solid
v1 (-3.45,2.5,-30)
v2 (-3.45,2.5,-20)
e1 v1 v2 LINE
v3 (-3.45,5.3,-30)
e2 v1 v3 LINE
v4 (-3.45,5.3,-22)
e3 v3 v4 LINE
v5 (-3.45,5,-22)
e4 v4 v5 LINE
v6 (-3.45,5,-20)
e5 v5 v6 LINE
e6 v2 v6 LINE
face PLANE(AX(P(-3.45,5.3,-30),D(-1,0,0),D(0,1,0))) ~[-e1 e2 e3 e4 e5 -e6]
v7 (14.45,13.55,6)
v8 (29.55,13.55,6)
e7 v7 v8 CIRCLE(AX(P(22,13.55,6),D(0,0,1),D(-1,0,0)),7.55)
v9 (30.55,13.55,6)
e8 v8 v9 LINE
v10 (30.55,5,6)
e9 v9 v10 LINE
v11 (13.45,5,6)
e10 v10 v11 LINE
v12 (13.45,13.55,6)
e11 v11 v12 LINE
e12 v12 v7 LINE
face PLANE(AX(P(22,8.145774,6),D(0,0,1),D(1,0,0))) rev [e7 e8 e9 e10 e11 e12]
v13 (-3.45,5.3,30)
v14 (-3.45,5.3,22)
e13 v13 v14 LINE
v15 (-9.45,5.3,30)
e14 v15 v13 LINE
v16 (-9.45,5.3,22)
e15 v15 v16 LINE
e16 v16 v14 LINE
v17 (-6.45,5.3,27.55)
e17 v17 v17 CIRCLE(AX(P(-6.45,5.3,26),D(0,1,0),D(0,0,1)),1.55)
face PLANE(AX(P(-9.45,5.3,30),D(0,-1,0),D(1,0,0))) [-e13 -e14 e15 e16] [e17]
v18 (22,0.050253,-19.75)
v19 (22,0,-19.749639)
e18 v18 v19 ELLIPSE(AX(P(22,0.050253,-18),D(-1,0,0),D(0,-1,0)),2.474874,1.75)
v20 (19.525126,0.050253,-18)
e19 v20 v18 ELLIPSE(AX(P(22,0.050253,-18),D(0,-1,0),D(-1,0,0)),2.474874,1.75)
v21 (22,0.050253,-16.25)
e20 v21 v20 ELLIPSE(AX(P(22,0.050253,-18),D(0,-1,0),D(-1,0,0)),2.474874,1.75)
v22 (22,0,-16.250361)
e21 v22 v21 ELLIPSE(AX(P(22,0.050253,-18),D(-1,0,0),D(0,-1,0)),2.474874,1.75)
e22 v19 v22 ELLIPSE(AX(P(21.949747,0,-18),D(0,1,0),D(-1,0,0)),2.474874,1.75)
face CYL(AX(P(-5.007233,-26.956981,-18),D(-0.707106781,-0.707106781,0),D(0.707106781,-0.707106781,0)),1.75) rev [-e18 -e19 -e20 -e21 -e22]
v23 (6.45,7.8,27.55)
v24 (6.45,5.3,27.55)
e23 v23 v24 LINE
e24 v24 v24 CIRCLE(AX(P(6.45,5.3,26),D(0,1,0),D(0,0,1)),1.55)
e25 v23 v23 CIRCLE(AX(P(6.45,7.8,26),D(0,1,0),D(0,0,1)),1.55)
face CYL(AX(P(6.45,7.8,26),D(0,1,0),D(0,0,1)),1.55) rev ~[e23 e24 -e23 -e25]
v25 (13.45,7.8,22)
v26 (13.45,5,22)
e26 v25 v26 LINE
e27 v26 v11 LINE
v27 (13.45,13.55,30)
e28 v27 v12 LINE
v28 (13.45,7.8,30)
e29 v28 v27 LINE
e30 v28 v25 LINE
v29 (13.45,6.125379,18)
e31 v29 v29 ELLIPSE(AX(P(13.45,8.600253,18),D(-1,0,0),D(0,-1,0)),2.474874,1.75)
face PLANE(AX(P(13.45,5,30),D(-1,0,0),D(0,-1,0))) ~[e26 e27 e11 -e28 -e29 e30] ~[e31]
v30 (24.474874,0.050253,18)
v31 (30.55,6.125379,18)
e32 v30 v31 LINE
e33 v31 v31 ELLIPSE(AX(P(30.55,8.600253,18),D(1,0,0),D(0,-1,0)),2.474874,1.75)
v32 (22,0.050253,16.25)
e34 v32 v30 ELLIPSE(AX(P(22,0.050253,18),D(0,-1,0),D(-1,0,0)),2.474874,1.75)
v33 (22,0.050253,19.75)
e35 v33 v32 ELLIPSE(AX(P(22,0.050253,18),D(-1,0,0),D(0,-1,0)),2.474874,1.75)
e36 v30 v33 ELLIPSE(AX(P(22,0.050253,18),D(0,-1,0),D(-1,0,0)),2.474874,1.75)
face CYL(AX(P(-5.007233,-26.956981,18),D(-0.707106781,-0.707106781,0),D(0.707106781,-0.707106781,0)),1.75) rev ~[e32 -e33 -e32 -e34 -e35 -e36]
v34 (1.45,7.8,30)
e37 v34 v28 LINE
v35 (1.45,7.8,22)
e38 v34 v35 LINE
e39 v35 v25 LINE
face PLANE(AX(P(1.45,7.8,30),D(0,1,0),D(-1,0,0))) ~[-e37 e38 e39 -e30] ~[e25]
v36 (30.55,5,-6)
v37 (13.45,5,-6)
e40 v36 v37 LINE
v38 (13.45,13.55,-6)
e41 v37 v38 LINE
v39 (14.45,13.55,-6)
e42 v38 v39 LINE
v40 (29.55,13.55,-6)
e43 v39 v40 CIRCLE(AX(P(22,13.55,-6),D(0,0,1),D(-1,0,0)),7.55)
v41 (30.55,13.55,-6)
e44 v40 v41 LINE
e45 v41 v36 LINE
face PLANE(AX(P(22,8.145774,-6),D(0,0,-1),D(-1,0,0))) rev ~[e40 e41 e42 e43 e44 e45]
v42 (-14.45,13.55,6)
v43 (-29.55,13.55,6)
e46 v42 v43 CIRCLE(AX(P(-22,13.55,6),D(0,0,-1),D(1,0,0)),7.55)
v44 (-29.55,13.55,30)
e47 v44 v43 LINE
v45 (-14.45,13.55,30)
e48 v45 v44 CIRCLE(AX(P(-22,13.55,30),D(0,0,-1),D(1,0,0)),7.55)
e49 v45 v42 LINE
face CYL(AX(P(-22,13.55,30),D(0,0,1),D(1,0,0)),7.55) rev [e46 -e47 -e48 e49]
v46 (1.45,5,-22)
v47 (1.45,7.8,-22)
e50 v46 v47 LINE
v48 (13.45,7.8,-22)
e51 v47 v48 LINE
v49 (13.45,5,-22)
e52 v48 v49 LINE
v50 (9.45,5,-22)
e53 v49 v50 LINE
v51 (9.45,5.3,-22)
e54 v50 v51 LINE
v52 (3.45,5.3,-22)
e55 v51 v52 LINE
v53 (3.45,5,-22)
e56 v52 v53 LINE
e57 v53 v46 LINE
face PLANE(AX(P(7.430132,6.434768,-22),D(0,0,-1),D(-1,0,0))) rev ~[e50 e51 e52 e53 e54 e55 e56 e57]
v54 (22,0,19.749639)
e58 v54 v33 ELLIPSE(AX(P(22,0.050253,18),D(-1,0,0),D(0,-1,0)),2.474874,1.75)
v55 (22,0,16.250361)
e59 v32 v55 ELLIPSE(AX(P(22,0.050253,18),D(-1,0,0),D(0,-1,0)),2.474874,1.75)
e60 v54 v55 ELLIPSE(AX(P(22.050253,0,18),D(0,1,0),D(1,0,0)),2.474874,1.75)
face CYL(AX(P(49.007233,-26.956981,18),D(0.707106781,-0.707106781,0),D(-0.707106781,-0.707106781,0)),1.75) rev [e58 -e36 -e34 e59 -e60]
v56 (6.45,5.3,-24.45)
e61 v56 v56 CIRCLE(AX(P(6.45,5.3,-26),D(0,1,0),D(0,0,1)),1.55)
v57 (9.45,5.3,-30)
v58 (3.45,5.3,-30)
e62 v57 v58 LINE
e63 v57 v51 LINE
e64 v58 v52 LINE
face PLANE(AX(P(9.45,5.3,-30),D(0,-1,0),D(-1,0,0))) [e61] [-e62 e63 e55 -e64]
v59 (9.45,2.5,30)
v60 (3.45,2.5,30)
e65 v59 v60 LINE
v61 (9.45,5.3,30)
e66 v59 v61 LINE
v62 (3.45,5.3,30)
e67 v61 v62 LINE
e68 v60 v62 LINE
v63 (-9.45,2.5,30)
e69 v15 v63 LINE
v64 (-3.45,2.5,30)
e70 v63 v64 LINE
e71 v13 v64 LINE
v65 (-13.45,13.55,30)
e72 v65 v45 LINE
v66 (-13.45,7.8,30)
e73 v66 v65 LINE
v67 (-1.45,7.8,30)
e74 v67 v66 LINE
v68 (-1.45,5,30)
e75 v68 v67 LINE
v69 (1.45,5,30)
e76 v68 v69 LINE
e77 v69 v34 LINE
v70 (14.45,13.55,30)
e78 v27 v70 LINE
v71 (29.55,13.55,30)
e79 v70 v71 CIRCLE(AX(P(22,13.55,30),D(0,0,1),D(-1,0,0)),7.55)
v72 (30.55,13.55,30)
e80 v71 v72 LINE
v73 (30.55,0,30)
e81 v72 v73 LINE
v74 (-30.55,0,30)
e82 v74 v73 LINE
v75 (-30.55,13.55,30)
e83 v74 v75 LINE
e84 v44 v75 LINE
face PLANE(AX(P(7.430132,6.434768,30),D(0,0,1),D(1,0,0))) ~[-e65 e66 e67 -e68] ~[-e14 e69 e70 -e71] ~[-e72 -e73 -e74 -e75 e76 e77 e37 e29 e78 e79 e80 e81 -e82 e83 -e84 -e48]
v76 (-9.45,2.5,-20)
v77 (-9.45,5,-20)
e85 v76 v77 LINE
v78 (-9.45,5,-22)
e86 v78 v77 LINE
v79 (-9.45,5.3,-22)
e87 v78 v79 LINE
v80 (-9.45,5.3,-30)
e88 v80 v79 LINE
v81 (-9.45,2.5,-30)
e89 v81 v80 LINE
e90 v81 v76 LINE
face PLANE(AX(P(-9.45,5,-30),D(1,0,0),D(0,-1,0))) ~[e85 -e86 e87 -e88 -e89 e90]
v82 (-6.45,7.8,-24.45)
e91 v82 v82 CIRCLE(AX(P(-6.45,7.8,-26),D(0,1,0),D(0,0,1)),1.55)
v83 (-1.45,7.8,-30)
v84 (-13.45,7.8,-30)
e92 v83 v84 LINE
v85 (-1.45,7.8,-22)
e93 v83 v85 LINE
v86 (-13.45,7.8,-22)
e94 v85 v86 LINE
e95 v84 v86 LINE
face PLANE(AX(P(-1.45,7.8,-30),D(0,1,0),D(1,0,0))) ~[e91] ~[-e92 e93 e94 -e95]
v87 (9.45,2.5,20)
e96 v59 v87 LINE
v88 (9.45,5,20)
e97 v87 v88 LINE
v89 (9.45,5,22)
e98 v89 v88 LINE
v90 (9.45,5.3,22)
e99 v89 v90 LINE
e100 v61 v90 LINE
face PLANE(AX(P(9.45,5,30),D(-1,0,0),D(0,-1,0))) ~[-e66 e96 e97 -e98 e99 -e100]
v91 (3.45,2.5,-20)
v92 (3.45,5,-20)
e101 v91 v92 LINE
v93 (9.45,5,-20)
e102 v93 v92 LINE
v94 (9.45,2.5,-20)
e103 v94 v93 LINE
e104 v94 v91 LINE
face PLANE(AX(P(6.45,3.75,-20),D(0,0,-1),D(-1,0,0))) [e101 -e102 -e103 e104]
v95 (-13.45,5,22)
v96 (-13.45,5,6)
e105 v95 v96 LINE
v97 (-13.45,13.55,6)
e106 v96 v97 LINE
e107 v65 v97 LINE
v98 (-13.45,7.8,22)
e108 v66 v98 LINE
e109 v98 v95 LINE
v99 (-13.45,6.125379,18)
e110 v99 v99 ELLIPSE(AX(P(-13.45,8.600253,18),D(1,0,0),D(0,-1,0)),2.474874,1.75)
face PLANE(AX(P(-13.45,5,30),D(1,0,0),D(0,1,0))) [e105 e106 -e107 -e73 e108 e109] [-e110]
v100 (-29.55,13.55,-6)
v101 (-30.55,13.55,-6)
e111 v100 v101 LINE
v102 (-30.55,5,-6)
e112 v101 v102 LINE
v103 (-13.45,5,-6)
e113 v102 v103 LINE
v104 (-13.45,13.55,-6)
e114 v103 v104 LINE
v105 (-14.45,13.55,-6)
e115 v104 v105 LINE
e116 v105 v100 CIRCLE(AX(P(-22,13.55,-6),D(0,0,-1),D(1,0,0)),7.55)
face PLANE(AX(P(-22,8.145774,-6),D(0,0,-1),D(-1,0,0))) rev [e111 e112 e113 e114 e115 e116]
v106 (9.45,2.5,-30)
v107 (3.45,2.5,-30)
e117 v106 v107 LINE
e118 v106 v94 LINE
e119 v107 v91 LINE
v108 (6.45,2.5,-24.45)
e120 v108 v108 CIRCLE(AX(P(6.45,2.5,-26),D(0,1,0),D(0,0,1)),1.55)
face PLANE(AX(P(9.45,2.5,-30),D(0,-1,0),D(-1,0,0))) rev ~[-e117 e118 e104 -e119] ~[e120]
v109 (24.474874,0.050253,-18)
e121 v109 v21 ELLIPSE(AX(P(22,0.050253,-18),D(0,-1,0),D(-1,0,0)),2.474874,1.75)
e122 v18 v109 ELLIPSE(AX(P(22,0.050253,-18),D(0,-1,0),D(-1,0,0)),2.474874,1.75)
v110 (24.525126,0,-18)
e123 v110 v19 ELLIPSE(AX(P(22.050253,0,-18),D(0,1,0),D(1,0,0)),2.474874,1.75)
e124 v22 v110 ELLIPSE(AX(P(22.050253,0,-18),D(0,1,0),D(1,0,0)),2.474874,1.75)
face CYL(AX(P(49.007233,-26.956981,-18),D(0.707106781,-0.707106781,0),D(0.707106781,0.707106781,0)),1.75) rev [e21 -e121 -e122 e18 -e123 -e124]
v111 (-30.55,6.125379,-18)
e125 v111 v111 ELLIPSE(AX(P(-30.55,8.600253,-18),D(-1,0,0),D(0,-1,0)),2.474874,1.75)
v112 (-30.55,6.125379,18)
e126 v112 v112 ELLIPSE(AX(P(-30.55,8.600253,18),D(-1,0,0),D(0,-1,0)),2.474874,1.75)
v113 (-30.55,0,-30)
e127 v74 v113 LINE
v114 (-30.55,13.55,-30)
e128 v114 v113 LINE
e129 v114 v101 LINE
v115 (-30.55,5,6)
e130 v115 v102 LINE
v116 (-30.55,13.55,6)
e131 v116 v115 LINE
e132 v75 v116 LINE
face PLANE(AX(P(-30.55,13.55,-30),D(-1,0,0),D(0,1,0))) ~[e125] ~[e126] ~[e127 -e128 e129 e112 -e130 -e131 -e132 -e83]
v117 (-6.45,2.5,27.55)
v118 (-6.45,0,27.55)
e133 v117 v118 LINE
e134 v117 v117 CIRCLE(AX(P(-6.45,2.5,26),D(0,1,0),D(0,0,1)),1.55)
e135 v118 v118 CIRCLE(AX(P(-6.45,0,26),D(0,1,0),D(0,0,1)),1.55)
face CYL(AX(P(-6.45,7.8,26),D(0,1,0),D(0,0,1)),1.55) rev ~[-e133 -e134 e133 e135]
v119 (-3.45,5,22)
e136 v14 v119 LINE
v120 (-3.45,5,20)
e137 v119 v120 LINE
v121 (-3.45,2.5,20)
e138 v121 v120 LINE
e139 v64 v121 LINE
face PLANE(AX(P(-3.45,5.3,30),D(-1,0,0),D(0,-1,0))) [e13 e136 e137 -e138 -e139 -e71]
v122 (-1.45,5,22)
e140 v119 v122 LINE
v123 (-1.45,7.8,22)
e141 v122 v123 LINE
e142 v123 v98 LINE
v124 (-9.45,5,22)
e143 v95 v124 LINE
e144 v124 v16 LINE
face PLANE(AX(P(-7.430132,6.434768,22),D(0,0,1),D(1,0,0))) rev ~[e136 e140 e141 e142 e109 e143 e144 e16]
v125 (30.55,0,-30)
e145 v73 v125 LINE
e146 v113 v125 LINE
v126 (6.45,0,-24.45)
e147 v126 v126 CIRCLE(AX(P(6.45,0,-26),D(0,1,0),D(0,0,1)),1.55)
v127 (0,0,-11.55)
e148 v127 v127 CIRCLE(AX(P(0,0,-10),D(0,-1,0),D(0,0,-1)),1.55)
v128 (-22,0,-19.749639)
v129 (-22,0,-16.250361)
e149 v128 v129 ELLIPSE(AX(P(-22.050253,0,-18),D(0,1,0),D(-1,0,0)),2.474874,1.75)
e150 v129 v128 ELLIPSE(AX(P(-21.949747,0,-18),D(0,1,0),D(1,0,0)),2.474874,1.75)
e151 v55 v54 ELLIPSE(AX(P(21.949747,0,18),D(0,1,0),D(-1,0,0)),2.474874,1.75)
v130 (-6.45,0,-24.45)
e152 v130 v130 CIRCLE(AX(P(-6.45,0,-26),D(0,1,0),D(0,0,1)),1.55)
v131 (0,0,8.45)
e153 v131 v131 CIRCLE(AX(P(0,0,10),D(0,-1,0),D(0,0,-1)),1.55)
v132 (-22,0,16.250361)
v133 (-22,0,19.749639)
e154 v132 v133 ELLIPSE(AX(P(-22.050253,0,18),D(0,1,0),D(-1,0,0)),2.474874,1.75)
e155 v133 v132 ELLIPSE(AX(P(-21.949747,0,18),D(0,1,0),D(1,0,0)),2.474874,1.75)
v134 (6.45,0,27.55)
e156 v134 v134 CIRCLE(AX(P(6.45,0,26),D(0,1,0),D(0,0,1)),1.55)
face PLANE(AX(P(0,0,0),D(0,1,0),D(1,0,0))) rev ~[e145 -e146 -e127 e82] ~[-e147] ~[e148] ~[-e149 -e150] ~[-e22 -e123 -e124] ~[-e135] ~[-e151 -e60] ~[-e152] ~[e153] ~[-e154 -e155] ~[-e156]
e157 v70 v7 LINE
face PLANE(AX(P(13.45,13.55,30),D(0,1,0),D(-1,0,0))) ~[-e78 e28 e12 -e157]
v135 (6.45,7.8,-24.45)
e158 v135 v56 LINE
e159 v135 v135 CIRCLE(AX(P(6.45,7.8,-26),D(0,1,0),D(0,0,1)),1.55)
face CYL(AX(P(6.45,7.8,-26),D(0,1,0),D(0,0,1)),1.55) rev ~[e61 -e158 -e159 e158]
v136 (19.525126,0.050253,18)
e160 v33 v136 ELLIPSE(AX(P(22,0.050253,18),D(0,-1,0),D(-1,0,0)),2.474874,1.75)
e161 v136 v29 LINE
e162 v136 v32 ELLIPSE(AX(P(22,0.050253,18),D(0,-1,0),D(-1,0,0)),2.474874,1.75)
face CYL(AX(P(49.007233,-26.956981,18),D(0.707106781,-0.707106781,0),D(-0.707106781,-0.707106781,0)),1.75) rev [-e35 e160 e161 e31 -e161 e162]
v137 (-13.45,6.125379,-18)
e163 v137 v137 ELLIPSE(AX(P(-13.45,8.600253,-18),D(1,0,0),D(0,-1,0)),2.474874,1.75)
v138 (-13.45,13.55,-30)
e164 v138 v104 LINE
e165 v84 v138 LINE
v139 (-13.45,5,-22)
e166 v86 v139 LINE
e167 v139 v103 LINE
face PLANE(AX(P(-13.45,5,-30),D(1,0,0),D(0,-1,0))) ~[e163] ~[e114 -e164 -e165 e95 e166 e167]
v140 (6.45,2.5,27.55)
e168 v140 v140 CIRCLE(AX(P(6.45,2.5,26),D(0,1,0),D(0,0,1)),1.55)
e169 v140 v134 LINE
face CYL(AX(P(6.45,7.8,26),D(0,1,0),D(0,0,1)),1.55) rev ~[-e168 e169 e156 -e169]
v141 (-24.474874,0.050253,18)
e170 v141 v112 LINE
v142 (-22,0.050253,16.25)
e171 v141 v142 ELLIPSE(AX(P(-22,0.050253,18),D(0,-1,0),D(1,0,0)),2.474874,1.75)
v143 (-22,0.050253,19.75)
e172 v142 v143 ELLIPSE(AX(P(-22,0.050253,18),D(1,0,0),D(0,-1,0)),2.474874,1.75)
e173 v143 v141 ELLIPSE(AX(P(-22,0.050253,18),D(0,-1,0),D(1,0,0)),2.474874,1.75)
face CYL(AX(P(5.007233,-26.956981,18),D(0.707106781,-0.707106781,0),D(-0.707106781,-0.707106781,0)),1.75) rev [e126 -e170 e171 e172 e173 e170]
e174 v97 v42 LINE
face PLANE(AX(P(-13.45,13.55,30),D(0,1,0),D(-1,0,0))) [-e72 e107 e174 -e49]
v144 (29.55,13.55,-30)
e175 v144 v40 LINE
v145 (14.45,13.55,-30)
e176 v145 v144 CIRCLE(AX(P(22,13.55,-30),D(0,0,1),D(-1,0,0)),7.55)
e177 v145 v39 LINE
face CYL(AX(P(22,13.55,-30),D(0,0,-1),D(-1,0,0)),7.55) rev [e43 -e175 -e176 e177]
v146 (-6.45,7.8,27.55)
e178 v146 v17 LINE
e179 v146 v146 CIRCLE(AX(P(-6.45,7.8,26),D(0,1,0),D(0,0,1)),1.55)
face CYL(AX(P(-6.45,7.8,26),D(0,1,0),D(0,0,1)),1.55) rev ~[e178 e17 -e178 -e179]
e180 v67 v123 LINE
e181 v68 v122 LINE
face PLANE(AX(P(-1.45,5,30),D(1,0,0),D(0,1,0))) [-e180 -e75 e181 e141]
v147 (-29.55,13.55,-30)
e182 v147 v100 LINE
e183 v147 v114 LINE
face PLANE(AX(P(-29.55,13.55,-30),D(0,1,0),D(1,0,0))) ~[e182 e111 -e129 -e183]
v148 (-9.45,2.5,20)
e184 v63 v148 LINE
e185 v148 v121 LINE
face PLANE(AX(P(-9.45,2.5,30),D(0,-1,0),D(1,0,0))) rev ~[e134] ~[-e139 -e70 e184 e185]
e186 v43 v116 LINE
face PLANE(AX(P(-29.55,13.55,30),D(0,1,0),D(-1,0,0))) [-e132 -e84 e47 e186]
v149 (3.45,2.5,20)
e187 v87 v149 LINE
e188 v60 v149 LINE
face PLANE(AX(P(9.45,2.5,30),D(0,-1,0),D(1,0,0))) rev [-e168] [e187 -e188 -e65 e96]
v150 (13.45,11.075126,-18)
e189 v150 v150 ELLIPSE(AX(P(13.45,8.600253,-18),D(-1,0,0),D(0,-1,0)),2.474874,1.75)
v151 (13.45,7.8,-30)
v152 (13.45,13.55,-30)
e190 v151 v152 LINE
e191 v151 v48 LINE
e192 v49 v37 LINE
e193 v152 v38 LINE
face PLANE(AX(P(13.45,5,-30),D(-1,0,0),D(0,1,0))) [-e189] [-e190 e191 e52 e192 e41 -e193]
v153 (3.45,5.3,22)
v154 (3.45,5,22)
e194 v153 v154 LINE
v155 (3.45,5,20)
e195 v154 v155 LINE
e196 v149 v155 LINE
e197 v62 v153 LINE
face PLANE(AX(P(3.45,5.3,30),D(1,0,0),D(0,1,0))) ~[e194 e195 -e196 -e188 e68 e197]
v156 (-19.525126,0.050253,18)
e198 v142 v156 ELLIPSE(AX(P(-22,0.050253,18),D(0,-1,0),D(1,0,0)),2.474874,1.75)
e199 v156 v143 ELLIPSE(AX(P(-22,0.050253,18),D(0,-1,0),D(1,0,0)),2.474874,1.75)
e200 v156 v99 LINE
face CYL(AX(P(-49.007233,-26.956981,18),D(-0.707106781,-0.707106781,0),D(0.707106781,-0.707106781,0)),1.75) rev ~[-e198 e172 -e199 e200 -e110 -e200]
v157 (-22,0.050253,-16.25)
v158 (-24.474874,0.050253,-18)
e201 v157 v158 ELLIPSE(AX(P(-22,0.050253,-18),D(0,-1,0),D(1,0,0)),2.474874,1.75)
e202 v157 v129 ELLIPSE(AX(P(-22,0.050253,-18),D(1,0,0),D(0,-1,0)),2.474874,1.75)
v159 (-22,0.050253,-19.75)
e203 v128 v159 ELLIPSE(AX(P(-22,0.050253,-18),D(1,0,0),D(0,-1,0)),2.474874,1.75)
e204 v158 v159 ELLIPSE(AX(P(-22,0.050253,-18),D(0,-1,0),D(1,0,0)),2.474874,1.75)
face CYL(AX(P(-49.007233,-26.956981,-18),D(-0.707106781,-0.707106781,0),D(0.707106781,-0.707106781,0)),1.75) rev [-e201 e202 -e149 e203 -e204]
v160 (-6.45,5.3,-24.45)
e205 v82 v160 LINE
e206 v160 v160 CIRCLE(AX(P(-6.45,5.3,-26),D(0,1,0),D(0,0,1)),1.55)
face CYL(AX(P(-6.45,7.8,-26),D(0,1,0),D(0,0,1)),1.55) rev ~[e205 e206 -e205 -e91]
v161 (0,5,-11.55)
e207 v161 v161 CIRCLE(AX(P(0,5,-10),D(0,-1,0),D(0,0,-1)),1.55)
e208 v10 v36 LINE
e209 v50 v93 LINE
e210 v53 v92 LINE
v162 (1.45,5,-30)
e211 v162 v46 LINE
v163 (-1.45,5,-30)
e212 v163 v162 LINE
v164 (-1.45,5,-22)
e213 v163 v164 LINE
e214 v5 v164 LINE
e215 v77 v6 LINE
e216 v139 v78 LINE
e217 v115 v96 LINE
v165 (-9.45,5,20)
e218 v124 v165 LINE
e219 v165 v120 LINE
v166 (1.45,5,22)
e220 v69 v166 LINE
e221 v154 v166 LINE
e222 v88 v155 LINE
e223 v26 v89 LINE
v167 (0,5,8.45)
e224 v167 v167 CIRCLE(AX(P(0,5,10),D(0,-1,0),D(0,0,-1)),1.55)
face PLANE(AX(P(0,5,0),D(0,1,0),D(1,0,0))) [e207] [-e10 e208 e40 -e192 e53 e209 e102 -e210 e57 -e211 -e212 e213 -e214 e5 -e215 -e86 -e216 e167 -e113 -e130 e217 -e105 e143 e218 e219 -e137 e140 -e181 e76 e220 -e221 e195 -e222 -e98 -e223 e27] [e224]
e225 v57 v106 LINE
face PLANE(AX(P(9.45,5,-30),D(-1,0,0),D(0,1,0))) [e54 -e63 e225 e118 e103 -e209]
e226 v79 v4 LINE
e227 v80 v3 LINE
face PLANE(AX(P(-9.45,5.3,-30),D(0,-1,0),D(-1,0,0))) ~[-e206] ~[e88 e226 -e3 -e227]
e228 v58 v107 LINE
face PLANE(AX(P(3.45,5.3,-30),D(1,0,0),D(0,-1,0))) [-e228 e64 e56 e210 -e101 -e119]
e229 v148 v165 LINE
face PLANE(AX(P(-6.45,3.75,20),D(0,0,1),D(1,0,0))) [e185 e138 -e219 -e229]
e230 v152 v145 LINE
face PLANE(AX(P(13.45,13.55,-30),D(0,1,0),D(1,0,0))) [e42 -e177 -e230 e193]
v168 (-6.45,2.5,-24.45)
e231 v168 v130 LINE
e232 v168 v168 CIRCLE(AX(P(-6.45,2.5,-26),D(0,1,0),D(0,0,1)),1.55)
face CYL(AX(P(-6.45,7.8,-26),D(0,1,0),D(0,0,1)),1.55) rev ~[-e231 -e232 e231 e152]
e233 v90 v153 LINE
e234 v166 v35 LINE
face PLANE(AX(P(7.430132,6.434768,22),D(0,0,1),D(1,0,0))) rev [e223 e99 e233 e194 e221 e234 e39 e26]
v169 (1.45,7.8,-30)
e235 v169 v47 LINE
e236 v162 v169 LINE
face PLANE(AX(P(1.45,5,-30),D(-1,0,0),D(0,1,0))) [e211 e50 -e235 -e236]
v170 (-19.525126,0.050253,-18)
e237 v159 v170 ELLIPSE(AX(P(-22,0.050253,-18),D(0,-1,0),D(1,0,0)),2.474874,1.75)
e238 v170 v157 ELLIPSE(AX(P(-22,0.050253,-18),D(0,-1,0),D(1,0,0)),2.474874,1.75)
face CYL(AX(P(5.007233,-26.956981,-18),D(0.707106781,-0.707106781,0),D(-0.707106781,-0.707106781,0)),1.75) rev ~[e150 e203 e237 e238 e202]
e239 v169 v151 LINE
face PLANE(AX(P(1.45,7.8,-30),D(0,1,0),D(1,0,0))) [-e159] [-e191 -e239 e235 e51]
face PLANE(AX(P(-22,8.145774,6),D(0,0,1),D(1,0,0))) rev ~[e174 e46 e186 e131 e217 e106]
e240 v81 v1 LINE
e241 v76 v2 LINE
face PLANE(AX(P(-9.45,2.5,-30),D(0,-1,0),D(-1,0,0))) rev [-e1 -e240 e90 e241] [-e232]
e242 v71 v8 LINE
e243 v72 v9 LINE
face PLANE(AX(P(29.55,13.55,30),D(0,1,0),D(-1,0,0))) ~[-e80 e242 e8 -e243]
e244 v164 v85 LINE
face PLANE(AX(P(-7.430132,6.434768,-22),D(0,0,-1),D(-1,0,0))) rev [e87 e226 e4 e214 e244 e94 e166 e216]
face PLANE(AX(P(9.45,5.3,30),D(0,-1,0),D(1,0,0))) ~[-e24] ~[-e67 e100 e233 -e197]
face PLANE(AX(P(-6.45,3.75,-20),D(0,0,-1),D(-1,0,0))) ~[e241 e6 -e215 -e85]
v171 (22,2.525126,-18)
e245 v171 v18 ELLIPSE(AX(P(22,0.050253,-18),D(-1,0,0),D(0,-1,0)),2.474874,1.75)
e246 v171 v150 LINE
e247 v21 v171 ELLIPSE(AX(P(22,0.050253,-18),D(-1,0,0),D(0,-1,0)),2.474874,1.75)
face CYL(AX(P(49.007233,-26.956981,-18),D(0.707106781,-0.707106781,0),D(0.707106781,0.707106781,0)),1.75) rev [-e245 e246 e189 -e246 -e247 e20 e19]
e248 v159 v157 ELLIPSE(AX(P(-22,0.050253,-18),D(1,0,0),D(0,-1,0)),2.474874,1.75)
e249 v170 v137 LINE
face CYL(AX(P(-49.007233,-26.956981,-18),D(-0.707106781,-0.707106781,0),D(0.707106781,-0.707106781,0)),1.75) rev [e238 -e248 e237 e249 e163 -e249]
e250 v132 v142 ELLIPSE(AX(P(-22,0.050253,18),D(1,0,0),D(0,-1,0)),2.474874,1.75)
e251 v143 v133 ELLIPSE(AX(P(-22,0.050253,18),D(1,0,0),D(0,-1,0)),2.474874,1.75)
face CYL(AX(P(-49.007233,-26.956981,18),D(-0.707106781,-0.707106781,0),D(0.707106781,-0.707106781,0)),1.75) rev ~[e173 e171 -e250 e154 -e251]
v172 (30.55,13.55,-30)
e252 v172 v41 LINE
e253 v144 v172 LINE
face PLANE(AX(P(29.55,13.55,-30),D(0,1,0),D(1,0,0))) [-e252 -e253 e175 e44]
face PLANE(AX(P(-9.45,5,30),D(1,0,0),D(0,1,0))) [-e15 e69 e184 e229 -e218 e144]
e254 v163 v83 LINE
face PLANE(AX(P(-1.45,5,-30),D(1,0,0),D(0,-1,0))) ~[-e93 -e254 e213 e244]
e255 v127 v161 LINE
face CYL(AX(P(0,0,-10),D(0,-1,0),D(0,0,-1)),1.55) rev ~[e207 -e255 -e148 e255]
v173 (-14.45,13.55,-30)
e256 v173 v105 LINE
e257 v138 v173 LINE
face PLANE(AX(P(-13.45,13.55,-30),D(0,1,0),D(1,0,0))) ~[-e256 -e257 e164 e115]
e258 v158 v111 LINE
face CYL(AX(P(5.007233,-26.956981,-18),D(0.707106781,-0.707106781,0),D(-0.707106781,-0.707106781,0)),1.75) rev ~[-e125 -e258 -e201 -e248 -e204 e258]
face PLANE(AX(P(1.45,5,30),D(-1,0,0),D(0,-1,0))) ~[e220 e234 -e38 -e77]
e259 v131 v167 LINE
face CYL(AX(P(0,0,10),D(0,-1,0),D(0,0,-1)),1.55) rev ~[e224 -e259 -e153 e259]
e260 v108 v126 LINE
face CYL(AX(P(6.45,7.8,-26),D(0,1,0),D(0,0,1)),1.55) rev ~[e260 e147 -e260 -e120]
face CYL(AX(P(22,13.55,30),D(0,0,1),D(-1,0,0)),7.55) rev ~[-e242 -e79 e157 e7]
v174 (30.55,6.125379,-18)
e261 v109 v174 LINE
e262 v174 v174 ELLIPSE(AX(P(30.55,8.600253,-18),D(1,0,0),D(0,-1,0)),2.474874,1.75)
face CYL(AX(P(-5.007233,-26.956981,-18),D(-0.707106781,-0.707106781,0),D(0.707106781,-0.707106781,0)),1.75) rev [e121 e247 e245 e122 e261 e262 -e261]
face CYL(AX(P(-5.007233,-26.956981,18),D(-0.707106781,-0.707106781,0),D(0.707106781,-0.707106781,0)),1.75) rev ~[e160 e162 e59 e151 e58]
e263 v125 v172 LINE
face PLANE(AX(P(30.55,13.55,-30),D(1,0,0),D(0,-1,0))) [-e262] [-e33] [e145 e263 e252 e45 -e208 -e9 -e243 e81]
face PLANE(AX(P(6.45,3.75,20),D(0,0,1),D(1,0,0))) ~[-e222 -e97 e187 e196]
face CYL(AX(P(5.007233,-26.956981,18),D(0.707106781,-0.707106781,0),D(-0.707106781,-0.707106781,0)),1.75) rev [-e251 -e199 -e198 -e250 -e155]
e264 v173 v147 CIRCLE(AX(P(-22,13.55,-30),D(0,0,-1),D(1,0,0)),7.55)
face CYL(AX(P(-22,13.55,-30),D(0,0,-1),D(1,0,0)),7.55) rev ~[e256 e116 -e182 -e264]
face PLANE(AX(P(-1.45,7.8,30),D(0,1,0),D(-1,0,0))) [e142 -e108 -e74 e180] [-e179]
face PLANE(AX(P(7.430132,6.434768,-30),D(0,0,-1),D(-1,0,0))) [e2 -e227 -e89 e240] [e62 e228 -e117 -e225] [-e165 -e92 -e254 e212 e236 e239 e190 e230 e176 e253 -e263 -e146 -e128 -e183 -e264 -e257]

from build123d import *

# Parameters (mm, degrees)
SKETCH1_W               = 61.1
SKETCH1_H               = 60
BOSS_EXTRUDE1_DEPTH     = 5
BOSS_EXTRUDE2_DEPTH     = 24
MIRROR2_COPY_1_DEPTH    = 24
CUT_EXTRUDE1_START      = -47.739758236
SKETCH3_R               = 1.75
CUT_EXTRUDE1_DEPTH      = 54.785521216
MIRROR4_START           = -47.739758236
MIRROR4_COPY_1_SKETCH_R = 1.75
MIRROR4_COPY_1_DEPTH    = 54.785521216
MIRROR5_START           = -47.739758236
MIRROR5_COPY_1_SKETCH_R = 1.75
MIRROR5_COPY_1_DEPTH    = 54.785521216
MIRROR5_COPY_2_SKETCH_R = 1.75
MIRROR5_COPY_2_DEPTH    = 54.785521216
MIRROR5_COPY_3_SKETCH_R = 1.75
MIRROR5_COPY_3_DEPTH    = 54.785521216
SKETCH9_W               = 6
SKETCH9_H               = 2.5
BOSS_EXTRUDE4_DEPTH     = 8
SKETCH9_3_W             = 6
SKETCH9_3_H             = 2.5
CUT_EXTRUDE7_DEPTH      = 10
MIRROR7_COPY_1_SKETCH_W = 6
MIRROR7_COPY_1_SKETCH_H = 2.5
MIRROR7_COPY_1_DEPTH    = 8
MIRROR7_COPY_2_SKETCH_W = 6
MIRROR7_COPY_2_SKETCH_H = 2.5
MIRROR7_COPY_2_DEPTH    = 10
SKETCH10_R              = 1.55
CUT_EXTRUDE8_DEPTH      = 10
SKETCH11_R              = 1.55
CUT_EXTRUDE9_DEPTH      = 10


with BuildPart() as part:
    # Sketch1 → Boss-Extrude1 (new body)
    with BuildSketch(Plane(origin=(0, 0, 0), x_dir=(1, 0, 0), z_dir=(0, 1, 0))):
        Rectangle(SKETCH1_W, SKETCH1_H)
    extrude(amount=BOSS_EXTRUDE1_DEPTH)

    # Sketch2 → Boss-Extrude2 (add)
    with BuildSketch(Plane.XY.offset(30)):
        with BuildLine():
            Line((-30.55, 13.55), (-30.55, 5))
            Line((-30.55, 5), (-13.45, 5))
            Line((-13.45, 5), (-13.45, 13.55))
            Line((-13.45, 13.55), (-14.45, 13.55))
            ThreePointArc((-14.45, 13.55), (-22, 6), (-29.55, 13.55))
            Line((-29.55, 13.55), (-30.55, 13.55))
        make_face()
    boss_extrude2 = extrude(amount=-BOSS_EXTRUDE2_DEPTH)

    # Mirror1: Boss-Extrude2 across plane
    add(boss_extrude2.mirror(Plane.XY))

    # Mirror2: Boss-Extrude2 across plane
    add(boss_extrude2.mirror(Plane(origin=(0, 0, 0), x_dir=(0, 0, 1), z_dir=(1, 0, 0))))

    # Mirror2 copy 1 sketch → Mirror2 copy 1 (add)
    with BuildSketch(Plane(origin=(0, 0, -30), x_dir=(-1, 0, 0), z_dir=(0, 0, -1))):
        with BuildLine():
            Line((-30.55, 13.55), (-30.55, 5))
            Line((-30.55, 5), (-13.45, 5))
            Line((-13.45, 5), (-13.45, 13.55))
            Line((-13.45, 13.55), (-14.45, 13.55))
            ThreePointArc((-14.45, 13.55), (-22, 6), (-29.55, 13.55))
            Line((-29.55, 13.55), (-30.55, 13.55))
        make_face()
    extrude(amount=-MIRROR2_COPY_1_DEPTH)

    # Sketch3 → Cut-Extrude1 (cut)
    with BuildSketch(Plane(origin=(-17.775, 17.775, 0), x_dir=(0.707106781, 0.707106781, 0), z_dir=(-0.707106781, 0.707106781, 0)).offset(CUT_EXTRUDE1_START)):
        with Locations(Location((-15.52081528, -18, 0), (0, 0, 180))):  # turned: the seam where the file's is
            Circle(SKETCH3_R)
    cut_extrude1 = extrude(amount=CUT_EXTRUDE1_DEPTH, mode=Mode.SUBTRACT)

    # Mirror3: Cut-Extrude1 across plane
    add(cut_extrude1.mirror(Plane.ZY.offset(22)), mode=Mode.SUBTRACT)

    # Mirror4: Cut-Extrude1 across plane
    add(cut_extrude1.mirror(Plane.XY), mode=Mode.SUBTRACT)

    # Mirror4 copy 1 sketch → Mirror4 copy 1 (cut)
    with BuildSketch(Plane(origin=(-26.225, 17.775, 0), x_dir=(-0.707106781, 0.707106781, 0), z_dir=(0.707106781, 0.707106781, 0)).offset(MIRROR4_START)):
        with Locations(Location((-15.52081528, -18, 0), (0, 0, 180))):  # turned: the seam where the file's is
            Circle(MIRROR4_COPY_1_SKETCH_R)
    extrude(amount=MIRROR4_COPY_1_DEPTH, mode=Mode.SUBTRACT)

    # Mirror5: Cut-Extrude1 across plane
    add(cut_extrude1.mirror(Plane(origin=(0, 0, 0), x_dir=(0, 0, 1), z_dir=(1, 0, 0))), mode=Mode.SUBTRACT)

    # Mirror5 copy 1 sketch → Mirror5 copy 1 (cut)
    with BuildSketch(Plane(origin=(17.775, 17.775, 0), x_dir=(-0.707106781, 0.707106781, 0), z_dir=(0.707106781, 0.707106781, 0)).offset(MIRROR5_START)):
        with Locations(Location((-15.52081528, -18, 0), (0, 0, 180))):  # turned: the seam where the file's is
            Circle(MIRROR5_COPY_1_SKETCH_R)
    extrude(amount=MIRROR5_COPY_1_DEPTH, mode=Mode.SUBTRACT)

    # Mirror5 copy 2 sketch → Mirror5 copy 2 (cut)
    with BuildSketch(Plane(origin=(26.225, 17.775, 0), x_dir=(0.707106781, 0.707106781, 0), z_dir=(-0.707106781, 0.707106781, 0)).offset(MIRROR5_START)):
        with Locations((-15.52081528, 18)):
            Circle(MIRROR5_COPY_2_SKETCH_R)
    extrude(amount=MIRROR5_COPY_2_DEPTH, mode=Mode.SUBTRACT)

    # Mirror5 copy 3 sketch → Mirror5 copy 3 (cut)
    with BuildSketch(Plane(origin=(26.225, 17.775, 0), x_dir=(0.707106781, 0.707106781, 0), z_dir=(-0.707106781, 0.707106781, 0)).offset(MIRROR5_START)):
        with Locations(Location((-15.52081528, -18, 0), (0, 0, 180))):  # turned: the seam where the file's is
            Circle(MIRROR5_COPY_3_SKETCH_R)
    extrude(amount=MIRROR5_COPY_3_DEPTH, mode=Mode.SUBTRACT)

    # Sketch9 → Boss-Extrude4 (add)
    with BuildSketch(Plane.XY.offset(30)):
        Polygon((-13.45, 7.8), (-13.45, 5), (-9.45, 5), (-9.45, 5.3), (-3.45, 5.3), (-3.45, 5), (-1.45, 5), (-1.45, 7.8), align=None)
        with Locations((-6.45, 3.75)):
            Rectangle(SKETCH9_W, SKETCH9_H)
    boss_extrude4 = extrude(amount=-BOSS_EXTRUDE4_DEPTH)

    # Sketch9_3 → Cut-Extrude7 (cut)
    with BuildSketch(Plane.XY.offset(30)):
        with Locations((-6.45, 3.75)):
            Rectangle(SKETCH9_3_W, SKETCH9_3_H)
    cut_extrude7 = extrude(amount=-CUT_EXTRUDE7_DEPTH, mode=Mode.SUBTRACT)

    # Mirror6: Boss-Extrude4, Cut-Extrude7 across plane
    add(boss_extrude4.mirror(Plane.XY))
    add(cut_extrude7.mirror(Plane.XY), mode=Mode.SUBTRACT)

    # Mirror7: Boss-Extrude4, Cut-Extrude7 across plane
    add(boss_extrude4.mirror(Plane(origin=(0, 0, 0), x_dir=(0, 0, 1), z_dir=(1, 0, 0))))
    add(cut_extrude7.mirror(Plane(origin=(0, 0, 0), x_dir=(0, 0, 1), z_dir=(1, 0, 0))), mode=Mode.SUBTRACT)

    # Mirror7 copy 1 sketch → Mirror7 copy 1 (add)
    with BuildSketch(Plane(origin=(0, 0, -30), x_dir=(-1, 0, 0), z_dir=(0, 0, -1))):
        Polygon((-13.45, 7.8), (-13.45, 5), (-9.45, 5), (-9.45, 5.3), (-3.45, 5.3), (-3.45, 5), (-1.45, 5), (-1.45, 7.8), align=None)
        with Locations((-6.45, 3.75)):
            Rectangle(MIRROR7_COPY_1_SKETCH_W, MIRROR7_COPY_1_SKETCH_H)
    extrude(amount=-MIRROR7_COPY_1_DEPTH)

    # Mirror7 copy 2 sketch → Mirror7 copy 2 (cut)
    with BuildSketch(Plane(origin=(0, 0, -30), x_dir=(-1, 0, 0), z_dir=(0, 0, -1))):
        with Locations((-6.45, 3.75)):
            Rectangle(MIRROR7_COPY_2_SKETCH_W, MIRROR7_COPY_2_SKETCH_H)
    extrude(amount=-MIRROR7_COPY_2_DEPTH, mode=Mode.SUBTRACT)

    # Sketch10 → Cut-Extrude8 (cut)
    with BuildSketch(Plane(origin=(0, 7.8, 0), x_dir=(1, 0, 0), z_dir=(0, 1, 0))):
        with Locations(Location((-6.45, 26, 0), (0, 0, 270))):  # turned: the seam where the file's is
            Circle(SKETCH10_R)
        with Locations(Location((6.45, 26, 0), (0, 0, 270))):  # turned: the seam where the file's is
            Circle(SKETCH10_R)
        with Locations(Location((6.45, -26, 0), (0, 0, 270))):  # turned: the seam where the file's is
            Circle(SKETCH10_R)
        with Locations(Location((-6.45, -26, 0), (0, 0, 270))):  # turned: the seam where the file's is
            Circle(SKETCH10_R)
    extrude(amount=-CUT_EXTRUDE8_DEPTH, mode=Mode.SUBTRACT)

    # Sketch11 → Cut-Extrude9 (cut)
    with BuildSketch(Plane.XZ):
        with Locations(Location((0, 10, 0), (0, 0, 270))):  # turned: the seam where the file's is
            Circle(SKETCH11_R)
        with Locations(Location((0, -10, 0), (0, 0, 270))):  # turned: the seam where the file's is
            Circle(SKETCH11_R)
    extrude(amount=-CUT_EXTRUDE9_DEPTH, mode=Mode.SUBTRACT)


solid = part.part
